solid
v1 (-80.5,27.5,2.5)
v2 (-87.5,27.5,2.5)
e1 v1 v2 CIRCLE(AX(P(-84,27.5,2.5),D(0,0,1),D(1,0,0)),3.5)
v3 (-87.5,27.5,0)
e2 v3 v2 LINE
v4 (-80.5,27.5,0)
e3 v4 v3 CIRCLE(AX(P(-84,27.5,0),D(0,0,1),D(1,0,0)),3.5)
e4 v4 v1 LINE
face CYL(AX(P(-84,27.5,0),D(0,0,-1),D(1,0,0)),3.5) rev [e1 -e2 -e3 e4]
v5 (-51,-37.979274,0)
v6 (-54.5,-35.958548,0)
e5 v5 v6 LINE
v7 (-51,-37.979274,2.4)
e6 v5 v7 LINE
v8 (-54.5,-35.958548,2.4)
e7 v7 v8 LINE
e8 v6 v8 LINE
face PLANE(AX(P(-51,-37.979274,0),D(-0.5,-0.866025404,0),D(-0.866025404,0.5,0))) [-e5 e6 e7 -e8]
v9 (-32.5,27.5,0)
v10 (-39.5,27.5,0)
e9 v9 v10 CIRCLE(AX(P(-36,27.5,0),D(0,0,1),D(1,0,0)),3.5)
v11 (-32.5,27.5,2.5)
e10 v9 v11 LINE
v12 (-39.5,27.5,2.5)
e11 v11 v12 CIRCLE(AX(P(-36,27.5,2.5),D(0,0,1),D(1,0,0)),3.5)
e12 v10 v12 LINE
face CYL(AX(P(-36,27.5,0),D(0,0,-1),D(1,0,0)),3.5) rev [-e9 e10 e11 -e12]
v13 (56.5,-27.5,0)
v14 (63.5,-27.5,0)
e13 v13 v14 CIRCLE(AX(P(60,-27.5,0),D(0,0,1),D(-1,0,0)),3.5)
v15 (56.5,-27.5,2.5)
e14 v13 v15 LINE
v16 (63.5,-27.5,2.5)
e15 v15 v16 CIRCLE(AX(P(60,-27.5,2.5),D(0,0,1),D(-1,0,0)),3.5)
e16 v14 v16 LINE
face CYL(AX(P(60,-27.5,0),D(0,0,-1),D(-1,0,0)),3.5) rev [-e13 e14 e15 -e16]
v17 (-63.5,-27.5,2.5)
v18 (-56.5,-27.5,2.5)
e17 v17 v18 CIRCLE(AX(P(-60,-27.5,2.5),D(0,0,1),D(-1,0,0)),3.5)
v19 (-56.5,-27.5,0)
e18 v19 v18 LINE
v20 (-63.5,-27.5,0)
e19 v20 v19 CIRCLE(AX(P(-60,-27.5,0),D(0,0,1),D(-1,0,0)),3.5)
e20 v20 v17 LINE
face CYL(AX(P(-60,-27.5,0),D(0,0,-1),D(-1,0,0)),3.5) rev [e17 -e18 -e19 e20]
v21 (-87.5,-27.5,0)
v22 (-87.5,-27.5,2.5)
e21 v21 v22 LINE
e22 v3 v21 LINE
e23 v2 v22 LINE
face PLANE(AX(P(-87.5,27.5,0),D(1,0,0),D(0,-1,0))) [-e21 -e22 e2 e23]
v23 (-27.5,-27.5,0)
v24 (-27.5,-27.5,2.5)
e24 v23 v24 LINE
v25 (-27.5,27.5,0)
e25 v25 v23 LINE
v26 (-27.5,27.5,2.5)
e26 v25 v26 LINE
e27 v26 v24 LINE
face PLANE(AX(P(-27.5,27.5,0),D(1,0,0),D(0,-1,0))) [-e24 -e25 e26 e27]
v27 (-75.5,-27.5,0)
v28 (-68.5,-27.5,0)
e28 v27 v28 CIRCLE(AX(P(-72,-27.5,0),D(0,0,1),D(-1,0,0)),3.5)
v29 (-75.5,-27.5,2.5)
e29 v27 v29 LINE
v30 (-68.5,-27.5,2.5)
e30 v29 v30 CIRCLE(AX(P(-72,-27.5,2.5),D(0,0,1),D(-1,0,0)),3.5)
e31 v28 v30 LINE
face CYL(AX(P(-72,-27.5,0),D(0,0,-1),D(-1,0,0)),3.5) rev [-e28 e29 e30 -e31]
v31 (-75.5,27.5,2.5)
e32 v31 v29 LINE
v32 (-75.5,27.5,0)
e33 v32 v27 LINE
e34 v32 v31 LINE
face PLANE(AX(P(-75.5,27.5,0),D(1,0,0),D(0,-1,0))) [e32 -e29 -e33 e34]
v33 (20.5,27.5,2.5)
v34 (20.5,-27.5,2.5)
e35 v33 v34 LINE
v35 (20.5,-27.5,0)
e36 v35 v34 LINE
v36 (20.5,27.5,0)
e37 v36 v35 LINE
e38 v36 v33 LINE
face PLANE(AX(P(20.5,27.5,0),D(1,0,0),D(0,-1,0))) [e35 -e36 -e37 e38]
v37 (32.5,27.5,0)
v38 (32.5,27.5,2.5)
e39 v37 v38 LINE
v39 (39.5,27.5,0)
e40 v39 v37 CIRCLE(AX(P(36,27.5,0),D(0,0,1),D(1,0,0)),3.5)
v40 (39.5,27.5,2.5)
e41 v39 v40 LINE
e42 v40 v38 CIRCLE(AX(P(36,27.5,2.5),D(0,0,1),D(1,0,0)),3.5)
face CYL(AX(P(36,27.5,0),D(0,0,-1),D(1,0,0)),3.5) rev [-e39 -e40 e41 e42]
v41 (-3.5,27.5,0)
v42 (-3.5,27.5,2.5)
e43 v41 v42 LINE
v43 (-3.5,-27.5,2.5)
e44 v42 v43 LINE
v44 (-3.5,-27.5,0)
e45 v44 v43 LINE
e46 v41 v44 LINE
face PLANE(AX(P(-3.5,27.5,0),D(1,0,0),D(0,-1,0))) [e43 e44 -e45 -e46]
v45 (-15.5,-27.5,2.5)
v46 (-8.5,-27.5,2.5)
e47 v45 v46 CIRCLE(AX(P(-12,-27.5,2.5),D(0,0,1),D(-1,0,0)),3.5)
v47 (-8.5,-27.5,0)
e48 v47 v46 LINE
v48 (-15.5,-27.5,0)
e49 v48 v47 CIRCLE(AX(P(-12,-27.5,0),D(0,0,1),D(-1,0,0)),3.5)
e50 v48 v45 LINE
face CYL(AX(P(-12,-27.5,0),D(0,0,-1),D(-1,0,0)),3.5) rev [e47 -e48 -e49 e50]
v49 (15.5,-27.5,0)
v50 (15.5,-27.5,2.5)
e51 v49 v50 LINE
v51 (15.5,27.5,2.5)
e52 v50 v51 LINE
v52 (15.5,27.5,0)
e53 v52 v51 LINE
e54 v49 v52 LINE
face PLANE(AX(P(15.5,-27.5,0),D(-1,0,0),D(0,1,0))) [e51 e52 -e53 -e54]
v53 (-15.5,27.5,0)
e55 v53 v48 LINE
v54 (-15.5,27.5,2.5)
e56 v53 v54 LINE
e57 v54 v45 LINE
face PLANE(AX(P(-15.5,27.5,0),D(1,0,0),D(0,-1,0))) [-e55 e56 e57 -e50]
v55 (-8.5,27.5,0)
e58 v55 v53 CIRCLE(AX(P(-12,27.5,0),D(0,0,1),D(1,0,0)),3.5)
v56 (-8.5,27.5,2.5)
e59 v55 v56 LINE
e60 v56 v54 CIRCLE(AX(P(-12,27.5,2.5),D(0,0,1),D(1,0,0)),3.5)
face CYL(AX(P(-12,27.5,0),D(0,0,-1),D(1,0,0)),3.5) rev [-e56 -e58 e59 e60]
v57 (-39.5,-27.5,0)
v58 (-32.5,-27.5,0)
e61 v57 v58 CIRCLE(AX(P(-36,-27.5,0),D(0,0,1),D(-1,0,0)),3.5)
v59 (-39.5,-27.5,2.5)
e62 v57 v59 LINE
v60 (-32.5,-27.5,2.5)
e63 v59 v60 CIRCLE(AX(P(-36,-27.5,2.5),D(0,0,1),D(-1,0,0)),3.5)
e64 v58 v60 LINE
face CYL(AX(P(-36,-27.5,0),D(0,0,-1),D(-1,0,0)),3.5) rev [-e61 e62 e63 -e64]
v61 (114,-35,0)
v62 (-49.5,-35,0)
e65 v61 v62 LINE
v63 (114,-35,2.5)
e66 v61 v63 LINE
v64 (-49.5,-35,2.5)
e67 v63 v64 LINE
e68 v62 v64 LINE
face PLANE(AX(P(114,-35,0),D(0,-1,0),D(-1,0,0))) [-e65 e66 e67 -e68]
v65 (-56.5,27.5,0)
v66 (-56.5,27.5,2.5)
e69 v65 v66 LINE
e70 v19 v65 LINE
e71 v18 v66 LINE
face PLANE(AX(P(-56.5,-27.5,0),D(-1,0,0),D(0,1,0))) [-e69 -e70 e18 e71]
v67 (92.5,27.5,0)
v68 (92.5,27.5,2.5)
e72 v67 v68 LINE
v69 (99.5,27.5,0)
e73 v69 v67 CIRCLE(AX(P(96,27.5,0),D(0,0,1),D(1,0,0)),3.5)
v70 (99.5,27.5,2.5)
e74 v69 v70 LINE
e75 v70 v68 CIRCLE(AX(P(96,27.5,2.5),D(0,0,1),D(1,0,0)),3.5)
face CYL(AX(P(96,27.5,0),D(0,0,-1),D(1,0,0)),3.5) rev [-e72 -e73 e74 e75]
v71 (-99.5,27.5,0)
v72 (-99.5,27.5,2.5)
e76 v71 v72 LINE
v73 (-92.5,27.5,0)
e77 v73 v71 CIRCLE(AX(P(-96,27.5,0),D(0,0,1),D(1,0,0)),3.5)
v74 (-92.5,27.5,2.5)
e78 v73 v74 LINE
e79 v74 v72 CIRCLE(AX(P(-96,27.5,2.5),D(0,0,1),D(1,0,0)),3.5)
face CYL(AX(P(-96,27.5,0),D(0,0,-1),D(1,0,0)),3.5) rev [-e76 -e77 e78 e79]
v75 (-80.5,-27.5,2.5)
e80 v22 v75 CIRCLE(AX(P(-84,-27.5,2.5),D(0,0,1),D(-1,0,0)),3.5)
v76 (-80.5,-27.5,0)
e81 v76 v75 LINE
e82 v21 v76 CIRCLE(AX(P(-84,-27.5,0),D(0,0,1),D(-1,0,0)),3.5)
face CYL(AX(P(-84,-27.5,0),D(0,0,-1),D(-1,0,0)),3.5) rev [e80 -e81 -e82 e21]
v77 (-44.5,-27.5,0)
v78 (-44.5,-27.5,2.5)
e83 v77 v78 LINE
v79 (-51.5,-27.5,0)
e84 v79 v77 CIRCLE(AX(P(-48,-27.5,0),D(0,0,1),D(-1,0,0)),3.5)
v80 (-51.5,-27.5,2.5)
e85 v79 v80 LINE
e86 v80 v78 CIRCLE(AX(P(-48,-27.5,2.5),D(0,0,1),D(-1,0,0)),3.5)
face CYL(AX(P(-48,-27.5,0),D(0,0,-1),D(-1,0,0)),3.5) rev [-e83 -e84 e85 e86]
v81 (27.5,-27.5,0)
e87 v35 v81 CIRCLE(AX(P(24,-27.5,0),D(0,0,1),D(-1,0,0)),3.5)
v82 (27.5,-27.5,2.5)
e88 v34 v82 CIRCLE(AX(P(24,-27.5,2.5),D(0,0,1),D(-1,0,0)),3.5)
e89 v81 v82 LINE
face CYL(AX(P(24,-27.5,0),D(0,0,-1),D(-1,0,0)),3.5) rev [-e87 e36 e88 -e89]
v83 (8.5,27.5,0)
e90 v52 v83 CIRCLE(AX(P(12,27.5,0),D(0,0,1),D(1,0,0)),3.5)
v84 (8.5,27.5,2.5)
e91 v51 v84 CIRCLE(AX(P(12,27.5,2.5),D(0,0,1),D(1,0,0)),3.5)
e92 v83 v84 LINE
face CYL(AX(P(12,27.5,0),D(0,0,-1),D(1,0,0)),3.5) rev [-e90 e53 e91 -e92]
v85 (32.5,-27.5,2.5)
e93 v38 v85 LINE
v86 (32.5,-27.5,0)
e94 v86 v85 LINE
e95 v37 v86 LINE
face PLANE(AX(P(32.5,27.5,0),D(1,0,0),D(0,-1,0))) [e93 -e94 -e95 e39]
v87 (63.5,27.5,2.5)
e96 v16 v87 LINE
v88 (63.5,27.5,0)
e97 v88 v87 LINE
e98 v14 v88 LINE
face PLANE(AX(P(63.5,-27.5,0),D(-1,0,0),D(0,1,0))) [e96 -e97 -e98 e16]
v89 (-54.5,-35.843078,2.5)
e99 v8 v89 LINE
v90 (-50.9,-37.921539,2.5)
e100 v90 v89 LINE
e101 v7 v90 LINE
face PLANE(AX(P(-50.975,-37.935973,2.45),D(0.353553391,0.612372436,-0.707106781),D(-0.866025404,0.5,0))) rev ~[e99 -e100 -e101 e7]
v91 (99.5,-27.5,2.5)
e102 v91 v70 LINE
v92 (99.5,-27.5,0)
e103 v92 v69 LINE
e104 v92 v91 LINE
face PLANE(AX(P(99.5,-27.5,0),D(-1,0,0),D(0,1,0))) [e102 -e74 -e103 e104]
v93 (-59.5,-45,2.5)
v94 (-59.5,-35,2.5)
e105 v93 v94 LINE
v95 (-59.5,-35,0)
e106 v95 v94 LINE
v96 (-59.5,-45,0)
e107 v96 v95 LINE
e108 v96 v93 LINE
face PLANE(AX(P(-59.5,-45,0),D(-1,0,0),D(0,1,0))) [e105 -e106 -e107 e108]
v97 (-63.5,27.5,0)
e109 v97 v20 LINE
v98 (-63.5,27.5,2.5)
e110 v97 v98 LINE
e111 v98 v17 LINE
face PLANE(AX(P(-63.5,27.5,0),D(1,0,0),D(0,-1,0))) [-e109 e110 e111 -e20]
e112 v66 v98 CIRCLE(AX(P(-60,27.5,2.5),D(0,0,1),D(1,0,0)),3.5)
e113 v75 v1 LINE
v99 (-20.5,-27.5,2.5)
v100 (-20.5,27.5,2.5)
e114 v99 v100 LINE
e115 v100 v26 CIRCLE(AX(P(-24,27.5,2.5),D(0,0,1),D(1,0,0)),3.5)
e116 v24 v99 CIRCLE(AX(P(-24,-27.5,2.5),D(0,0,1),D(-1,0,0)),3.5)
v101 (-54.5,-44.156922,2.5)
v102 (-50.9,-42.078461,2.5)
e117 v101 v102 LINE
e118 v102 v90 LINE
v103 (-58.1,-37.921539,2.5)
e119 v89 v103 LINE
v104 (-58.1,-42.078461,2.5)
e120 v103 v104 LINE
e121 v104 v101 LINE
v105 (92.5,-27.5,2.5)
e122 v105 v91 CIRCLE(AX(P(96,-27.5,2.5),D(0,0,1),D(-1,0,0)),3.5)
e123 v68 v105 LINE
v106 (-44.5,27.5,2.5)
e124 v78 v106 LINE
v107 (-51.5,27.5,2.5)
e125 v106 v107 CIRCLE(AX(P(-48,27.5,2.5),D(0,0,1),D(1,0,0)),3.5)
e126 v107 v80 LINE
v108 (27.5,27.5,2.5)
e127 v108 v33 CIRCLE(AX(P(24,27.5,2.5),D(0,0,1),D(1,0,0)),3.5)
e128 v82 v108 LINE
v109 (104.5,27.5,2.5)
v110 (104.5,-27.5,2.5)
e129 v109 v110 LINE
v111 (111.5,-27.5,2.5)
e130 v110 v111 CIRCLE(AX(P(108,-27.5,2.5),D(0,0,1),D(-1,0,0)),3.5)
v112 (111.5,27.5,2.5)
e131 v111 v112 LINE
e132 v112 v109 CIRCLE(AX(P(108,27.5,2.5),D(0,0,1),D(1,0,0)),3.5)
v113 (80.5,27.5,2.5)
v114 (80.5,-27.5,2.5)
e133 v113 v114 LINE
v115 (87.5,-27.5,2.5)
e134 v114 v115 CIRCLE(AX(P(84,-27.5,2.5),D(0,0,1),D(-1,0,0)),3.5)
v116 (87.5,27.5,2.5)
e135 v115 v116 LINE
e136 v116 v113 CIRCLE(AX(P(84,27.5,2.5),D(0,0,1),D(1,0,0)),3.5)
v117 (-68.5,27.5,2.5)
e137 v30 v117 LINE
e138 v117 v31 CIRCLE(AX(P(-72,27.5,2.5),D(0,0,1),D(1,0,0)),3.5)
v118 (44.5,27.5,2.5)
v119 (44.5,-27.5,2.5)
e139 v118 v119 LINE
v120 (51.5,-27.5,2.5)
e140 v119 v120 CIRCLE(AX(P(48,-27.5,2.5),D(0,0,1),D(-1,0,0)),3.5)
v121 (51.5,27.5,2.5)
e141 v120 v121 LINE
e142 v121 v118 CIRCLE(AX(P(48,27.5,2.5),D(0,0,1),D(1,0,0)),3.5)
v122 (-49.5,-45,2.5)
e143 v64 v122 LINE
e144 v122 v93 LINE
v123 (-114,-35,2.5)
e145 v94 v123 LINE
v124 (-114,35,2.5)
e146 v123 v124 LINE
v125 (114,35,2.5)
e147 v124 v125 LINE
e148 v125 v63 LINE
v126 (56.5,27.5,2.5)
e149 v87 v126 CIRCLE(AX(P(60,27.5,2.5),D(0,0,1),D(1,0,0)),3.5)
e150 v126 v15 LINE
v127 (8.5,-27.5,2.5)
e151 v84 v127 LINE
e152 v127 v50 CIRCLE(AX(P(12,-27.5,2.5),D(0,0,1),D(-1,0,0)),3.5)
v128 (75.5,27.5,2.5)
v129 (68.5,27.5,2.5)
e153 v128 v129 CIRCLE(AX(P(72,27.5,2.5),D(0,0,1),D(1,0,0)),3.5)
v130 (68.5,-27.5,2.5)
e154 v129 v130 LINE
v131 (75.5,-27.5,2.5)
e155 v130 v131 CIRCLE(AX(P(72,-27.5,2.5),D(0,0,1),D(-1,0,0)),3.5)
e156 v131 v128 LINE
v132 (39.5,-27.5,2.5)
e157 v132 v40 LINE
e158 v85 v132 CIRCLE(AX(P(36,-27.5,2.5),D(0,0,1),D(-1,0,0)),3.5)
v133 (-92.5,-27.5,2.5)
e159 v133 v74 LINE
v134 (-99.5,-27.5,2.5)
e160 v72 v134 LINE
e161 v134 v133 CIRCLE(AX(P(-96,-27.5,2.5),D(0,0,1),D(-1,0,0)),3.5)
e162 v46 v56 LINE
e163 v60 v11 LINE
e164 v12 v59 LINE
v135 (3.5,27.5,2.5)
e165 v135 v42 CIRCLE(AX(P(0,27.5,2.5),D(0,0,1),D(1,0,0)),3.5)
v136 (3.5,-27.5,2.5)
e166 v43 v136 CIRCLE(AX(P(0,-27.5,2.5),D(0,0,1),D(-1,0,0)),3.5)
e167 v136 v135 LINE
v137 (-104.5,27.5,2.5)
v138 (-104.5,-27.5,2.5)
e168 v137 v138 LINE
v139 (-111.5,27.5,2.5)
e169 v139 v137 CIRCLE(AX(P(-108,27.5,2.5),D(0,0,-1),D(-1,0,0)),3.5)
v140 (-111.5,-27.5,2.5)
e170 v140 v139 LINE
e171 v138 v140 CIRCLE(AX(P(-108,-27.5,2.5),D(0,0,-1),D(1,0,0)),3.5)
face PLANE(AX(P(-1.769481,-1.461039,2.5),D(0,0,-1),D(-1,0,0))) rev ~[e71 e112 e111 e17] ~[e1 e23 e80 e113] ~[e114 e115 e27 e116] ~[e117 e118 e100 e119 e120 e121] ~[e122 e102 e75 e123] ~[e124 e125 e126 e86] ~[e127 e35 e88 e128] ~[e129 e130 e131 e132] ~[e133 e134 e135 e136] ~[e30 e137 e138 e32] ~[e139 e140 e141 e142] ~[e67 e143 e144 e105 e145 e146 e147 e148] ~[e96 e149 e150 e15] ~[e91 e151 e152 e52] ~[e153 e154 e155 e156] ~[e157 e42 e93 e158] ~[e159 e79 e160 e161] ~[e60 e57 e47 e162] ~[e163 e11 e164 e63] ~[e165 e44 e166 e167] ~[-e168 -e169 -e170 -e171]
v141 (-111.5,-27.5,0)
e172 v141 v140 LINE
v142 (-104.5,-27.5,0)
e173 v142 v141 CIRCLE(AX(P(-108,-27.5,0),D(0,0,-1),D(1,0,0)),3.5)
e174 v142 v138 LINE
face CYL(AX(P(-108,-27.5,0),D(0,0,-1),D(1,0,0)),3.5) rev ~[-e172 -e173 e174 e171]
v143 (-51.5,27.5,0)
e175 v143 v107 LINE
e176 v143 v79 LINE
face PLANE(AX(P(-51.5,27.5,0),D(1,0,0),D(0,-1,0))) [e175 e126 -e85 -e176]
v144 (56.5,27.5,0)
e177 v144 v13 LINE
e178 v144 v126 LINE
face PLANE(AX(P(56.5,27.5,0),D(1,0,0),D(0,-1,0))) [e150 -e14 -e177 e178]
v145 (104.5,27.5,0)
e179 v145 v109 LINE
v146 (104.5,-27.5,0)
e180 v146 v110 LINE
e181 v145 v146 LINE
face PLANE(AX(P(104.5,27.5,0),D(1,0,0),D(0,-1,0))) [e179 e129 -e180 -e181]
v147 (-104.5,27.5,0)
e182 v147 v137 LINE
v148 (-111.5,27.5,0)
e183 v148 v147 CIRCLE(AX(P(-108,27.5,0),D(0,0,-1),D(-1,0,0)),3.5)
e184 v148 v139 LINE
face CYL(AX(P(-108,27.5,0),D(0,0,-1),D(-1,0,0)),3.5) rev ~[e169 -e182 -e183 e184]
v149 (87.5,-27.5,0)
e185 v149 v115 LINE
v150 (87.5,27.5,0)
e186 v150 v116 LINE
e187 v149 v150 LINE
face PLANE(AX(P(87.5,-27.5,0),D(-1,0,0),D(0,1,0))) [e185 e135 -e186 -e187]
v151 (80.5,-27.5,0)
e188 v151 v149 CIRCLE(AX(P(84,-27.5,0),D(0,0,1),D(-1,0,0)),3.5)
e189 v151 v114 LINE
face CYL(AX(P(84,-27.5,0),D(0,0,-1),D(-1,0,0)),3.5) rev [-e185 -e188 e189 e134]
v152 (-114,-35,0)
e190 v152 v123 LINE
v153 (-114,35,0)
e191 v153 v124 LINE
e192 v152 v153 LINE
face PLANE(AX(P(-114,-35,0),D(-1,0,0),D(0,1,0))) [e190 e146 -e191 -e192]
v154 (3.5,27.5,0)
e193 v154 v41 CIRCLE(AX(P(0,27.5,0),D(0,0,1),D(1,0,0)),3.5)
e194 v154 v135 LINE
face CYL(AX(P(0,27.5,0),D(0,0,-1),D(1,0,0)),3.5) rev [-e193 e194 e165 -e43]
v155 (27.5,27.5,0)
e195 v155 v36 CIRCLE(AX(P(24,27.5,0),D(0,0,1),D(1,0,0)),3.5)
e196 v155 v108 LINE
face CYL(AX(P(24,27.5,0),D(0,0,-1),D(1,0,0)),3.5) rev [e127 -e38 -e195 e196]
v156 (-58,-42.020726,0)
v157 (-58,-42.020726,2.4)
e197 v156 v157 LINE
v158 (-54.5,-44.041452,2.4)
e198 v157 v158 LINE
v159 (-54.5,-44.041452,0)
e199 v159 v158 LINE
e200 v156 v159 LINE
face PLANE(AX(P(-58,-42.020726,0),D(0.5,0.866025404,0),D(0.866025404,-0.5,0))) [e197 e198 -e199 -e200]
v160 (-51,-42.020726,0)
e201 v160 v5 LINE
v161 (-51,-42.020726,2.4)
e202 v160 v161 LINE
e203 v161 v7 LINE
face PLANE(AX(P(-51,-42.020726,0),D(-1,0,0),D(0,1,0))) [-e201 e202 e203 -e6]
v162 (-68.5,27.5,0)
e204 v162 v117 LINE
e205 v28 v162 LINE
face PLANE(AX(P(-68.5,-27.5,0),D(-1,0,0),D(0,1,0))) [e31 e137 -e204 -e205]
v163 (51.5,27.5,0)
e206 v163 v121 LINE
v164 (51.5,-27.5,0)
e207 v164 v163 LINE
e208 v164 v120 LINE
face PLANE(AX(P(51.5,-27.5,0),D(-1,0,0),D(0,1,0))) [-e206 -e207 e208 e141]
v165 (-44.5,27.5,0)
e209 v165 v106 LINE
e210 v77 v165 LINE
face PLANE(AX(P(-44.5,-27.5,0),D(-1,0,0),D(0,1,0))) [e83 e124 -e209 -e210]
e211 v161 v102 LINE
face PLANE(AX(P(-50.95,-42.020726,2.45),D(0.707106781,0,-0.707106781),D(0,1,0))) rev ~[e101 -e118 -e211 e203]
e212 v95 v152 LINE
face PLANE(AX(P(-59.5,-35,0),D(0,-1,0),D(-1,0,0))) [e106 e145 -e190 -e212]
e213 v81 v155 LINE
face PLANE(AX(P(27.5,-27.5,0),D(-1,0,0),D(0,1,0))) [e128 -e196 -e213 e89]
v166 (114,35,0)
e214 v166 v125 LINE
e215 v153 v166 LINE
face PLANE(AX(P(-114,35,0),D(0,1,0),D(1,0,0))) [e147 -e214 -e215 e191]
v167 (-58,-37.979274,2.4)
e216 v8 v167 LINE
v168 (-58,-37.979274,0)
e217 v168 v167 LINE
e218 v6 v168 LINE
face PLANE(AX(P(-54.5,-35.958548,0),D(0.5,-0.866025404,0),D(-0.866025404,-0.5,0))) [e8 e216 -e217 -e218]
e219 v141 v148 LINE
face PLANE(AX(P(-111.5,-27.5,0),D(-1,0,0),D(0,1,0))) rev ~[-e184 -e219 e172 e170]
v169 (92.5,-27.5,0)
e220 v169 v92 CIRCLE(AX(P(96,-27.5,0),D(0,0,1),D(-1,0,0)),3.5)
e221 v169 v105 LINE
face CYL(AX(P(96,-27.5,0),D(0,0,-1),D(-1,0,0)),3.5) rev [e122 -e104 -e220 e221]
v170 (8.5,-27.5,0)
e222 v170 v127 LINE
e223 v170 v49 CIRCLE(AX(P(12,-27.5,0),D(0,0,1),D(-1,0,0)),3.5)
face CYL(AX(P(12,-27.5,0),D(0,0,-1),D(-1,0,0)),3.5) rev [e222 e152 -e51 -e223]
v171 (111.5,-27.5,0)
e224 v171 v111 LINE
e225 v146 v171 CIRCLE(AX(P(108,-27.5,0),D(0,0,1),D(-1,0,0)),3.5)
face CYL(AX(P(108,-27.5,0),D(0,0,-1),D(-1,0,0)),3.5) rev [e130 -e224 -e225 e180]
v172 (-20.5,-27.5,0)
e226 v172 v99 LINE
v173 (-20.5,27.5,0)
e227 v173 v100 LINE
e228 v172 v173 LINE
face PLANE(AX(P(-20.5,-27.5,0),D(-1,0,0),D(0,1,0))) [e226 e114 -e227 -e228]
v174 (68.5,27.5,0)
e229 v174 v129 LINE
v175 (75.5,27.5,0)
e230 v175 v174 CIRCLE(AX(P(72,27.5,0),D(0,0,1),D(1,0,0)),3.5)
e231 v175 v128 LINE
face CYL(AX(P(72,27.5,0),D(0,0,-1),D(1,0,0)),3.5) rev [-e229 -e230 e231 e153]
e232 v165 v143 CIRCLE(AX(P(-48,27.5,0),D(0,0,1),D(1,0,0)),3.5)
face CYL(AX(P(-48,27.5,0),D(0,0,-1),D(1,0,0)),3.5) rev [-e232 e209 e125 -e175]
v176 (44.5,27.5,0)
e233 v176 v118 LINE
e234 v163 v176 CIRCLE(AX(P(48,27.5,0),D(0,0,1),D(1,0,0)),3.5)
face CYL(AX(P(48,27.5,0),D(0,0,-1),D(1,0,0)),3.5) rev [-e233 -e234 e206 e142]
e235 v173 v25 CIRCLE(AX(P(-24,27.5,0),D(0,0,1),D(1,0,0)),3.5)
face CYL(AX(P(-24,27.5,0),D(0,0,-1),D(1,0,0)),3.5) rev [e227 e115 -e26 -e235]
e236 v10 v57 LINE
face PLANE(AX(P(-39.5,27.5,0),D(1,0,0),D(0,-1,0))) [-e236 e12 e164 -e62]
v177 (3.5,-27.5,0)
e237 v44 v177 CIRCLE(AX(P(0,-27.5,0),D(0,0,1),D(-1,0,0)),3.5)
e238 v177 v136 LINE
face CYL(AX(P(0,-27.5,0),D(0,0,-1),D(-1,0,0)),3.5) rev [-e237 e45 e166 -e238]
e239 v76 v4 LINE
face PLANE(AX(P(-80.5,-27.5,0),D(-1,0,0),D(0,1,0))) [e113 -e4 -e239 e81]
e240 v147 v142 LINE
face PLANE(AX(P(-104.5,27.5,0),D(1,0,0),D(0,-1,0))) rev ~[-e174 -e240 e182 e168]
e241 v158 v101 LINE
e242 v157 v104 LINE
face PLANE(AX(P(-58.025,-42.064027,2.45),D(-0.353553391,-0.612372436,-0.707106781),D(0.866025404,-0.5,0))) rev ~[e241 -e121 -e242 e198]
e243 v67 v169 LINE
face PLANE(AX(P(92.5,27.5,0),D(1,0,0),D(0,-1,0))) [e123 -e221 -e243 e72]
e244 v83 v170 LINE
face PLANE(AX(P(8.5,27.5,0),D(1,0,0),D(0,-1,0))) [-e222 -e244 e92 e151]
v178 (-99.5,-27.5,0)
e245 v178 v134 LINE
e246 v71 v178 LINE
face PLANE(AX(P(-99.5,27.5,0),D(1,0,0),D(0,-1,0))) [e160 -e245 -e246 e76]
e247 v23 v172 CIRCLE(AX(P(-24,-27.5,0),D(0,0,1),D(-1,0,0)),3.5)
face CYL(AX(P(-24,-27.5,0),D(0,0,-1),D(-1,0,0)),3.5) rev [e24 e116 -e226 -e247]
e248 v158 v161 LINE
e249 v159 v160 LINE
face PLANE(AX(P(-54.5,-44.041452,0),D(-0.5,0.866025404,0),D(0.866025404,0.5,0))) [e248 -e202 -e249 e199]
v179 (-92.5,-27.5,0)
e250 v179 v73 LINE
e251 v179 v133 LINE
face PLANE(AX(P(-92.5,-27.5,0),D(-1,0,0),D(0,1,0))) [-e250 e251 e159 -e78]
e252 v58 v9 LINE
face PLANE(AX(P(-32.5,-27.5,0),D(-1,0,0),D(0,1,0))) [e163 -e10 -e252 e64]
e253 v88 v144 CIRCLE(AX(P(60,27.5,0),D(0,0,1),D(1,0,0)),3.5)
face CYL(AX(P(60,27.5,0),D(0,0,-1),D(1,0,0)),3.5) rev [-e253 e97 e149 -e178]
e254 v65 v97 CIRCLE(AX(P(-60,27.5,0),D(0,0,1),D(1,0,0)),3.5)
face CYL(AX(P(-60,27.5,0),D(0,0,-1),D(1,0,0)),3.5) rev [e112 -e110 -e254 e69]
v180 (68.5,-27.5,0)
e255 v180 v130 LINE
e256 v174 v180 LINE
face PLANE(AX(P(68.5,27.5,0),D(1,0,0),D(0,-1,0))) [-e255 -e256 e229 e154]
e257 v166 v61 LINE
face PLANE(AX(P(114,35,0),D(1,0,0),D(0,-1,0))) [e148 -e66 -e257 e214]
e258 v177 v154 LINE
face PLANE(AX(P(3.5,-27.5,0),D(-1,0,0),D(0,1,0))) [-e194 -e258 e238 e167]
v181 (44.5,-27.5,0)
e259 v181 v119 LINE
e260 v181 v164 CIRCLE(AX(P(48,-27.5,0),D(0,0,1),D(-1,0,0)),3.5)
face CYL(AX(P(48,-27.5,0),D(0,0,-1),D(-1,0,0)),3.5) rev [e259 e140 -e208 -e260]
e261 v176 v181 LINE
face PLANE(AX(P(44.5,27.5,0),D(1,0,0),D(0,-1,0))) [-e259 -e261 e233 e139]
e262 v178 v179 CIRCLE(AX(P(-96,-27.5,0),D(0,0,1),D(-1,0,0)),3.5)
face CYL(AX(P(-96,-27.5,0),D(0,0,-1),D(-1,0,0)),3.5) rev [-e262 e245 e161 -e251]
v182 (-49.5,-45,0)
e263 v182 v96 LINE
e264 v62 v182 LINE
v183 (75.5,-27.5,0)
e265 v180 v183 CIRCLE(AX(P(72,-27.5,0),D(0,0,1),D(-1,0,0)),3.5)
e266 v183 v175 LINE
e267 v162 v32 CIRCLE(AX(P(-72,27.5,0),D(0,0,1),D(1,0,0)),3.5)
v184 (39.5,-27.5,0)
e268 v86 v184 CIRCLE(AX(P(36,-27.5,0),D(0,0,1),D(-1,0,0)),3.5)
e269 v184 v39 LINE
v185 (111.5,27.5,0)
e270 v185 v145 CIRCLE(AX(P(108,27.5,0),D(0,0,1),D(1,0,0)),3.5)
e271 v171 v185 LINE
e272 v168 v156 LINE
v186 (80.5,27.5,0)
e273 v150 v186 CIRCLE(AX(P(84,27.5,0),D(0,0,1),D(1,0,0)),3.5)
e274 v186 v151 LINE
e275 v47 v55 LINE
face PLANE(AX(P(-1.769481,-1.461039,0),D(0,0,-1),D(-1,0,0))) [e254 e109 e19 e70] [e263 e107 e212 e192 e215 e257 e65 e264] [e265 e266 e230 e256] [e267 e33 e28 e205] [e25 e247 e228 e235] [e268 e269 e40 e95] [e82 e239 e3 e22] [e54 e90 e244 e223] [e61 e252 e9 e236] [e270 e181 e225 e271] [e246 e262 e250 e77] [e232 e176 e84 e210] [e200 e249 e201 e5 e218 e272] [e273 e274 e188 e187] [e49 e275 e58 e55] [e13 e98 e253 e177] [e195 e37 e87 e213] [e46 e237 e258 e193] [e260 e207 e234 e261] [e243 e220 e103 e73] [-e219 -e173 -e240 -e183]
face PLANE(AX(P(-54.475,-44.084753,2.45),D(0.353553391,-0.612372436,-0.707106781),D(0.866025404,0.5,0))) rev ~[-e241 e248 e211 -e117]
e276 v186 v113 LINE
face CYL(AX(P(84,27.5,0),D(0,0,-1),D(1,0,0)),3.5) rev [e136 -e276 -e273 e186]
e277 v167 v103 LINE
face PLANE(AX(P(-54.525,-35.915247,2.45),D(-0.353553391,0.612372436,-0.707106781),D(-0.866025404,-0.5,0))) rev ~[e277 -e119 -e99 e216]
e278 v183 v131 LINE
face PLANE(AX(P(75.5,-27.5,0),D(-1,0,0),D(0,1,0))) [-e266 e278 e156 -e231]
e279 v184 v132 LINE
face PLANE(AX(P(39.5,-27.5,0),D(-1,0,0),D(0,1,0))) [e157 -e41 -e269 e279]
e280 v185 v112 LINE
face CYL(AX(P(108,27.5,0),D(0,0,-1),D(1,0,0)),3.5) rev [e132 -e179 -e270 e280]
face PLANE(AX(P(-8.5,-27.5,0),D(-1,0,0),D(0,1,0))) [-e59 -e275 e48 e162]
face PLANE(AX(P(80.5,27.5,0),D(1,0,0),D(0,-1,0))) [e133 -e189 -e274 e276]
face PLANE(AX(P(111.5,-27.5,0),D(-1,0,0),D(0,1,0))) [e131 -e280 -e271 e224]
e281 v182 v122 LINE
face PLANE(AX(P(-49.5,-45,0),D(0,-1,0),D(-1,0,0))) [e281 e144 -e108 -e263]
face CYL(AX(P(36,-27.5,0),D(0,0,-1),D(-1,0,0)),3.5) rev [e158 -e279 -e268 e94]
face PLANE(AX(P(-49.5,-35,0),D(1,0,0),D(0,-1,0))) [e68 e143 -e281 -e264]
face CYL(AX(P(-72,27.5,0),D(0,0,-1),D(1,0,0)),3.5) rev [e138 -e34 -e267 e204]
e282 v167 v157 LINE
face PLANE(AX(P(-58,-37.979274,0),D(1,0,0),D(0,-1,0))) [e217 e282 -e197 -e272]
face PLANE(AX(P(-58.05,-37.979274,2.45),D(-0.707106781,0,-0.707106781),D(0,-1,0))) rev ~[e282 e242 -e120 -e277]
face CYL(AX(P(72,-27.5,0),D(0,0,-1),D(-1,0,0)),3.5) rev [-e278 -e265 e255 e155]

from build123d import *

# Parameters (mm, degrees)
BOSS_EXTRU_1_DEPTH = 2.5
CHANFREIN1_SIZE    = 0.1


with BuildPart() as part:
    # Esquisse1 → Boss.-Extru.1 (new body)
    with BuildSketch(Plane.XY):
        Polygon((-114, 35), (114, 35), (114, -35), (-49.5, -35), (-49.5, -45), (-59.5, -45), (-59.5, -35), (-114, -35), align=None)
        with BuildLine():
            Line((-111.5, -27.5), (-111.5, 27.5))
            ThreePointArc((-111.5, 27.5), (-108, 31), (-104.5, 27.5))
            Line((-104.5, 27.5), (-104.5, -27.5))
            ThreePointArc((-104.5, -27.5), (-108, -31), (-111.5, -27.5))
        make_face(mode=Mode.SUBTRACT)
        with BuildLine():
            Line((-92.5, -27.5), (-92.5, 27.5))
            ThreePointArc((-92.5, 27.5), (-96, 31), (-99.5, 27.5))
            Line((-99.5, 27.5), (-99.5, -27.5))
            ThreePointArc((-99.5, -27.5), (-96, -31), (-92.5, -27.5))
        make_face(mode=Mode.SUBTRACT)
        with BuildLine():
            Line((-80.5, -27.5), (-80.5, 27.5))
            ThreePointArc((-80.5, 27.5), (-84, 31), (-87.5, 27.5))
            Line((-87.5, 27.5), (-87.5, -27.5))
            ThreePointArc((-87.5, -27.5), (-84, -31), (-80.5, -27.5))
        make_face(mode=Mode.SUBTRACT)
        with BuildLine():
            Line((-68.5, -27.5), (-68.5, 27.5))
            ThreePointArc((-68.5, 27.5), (-72, 31), (-75.5, 27.5))
            Line((-75.5, 27.5), (-75.5, -27.5))
            ThreePointArc((-75.5, -27.5), (-72, -31), (-68.5, -27.5))
        make_face(mode=Mode.SUBTRACT)
        with BuildLine():
            Line((-56.5, -27.5), (-56.5, 27.5))
            ThreePointArc((-56.5, 27.5), (-60, 31), (-63.5, 27.5))
            Line((-63.5, 27.5), (-63.5, -27.5))
            ThreePointArc((-63.5, -27.5), (-60, -31), (-56.5, -27.5))
        make_face(mode=Mode.SUBTRACT)
        with BuildLine():
            Line((-44.5, -27.5), (-44.5, 27.5))
            ThreePointArc((-44.5, 27.5), (-48, 31), (-51.5, 27.5))
            Line((-51.5, 27.5), (-51.5, -27.5))
            ThreePointArc((-51.5, -27.5), (-48, -31), (-44.5, -27.5))
        make_face(mode=Mode.SUBTRACT)
        with BuildLine():
            Line((-32.5, -27.5), (-32.5, 27.5))
            ThreePointArc((-32.5, 27.5), (-36, 31), (-39.5, 27.5))
            Line((-39.5, 27.5), (-39.5, -27.5))
            ThreePointArc((-39.5, -27.5), (-36, -31), (-32.5, -27.5))
        make_face(mode=Mode.SUBTRACT)
        with BuildLine():
            Line((-20.5, -27.5), (-20.5, 27.5))
            ThreePointArc((-20.5, 27.5), (-24, 31), (-27.5, 27.5))
            Line((-27.5, 27.5), (-27.5, -27.5))
            ThreePointArc((-27.5, -27.5), (-24, -31), (-20.5, -27.5))
        make_face(mode=Mode.SUBTRACT)
        with BuildLine():
            Line((-8.5, -27.5), (-8.5, 27.5))
            ThreePointArc((-8.5, 27.5), (-12, 31), (-15.5, 27.5))
            Line((-15.5, 27.5), (-15.5, -27.5))
            ThreePointArc((-15.5, -27.5), (-12, -31), (-8.5, -27.5))
        make_face(mode=Mode.SUBTRACT)
        with BuildLine():
            Line((3.5, -27.5), (3.5, 27.5))
            ThreePointArc((3.5, 27.5), (0, 31), (-3.5, 27.5))
            Line((-3.5, 27.5), (-3.5, -27.5))
            ThreePointArc((-3.5, -27.5), (0, -31), (3.5, -27.5))
        make_face(mode=Mode.SUBTRACT)
        with BuildLine():
            Line((15.5, -27.5), (15.5, 27.5))
            ThreePointArc((15.5, 27.5), (12, 31), (8.5, 27.5))
            Line((8.5, 27.5), (8.5, -27.5))
            ThreePointArc((8.5, -27.5), (12, -31), (15.5, -27.5))
        make_face(mode=Mode.SUBTRACT)
        with BuildLine():
            Line((27.5, -27.5), (27.5, 27.5))
            ThreePointArc((27.5, 27.5), (24, 31), (20.5, 27.5))
            Line((20.5, 27.5), (20.5, -27.5))
            ThreePointArc((20.5, -27.5), (24, -31), (27.5, -27.5))
        make_face(mode=Mode.SUBTRACT)
        with BuildLine():
            Line((39.5, -27.5), (39.5, 27.5))
            ThreePointArc((39.5, 27.5), (36, 31), (32.5, 27.5))
            Line((32.5, 27.5), (32.5, -27.5))
            ThreePointArc((32.5, -27.5), (36, -31), (39.5, -27.5))
        make_face(mode=Mode.SUBTRACT)
        with BuildLine():
            Line((51.5, -27.5), (51.5, 27.5))
            ThreePointArc((51.5, 27.5), (48, 31), (44.5, 27.5))
            Line((44.5, 27.5), (44.5, -27.5))
            ThreePointArc((44.5, -27.5), (48, -31), (51.5, -27.5))
        make_face(mode=Mode.SUBTRACT)
        with BuildLine():
            Line((63.5, -27.5), (63.5, 27.5))
            ThreePointArc((63.5, 27.5), (60, 31), (56.5, 27.5))
            Line((56.5, 27.5), (56.5, -27.5))
            ThreePointArc((56.5, -27.5), (60, -31), (63.5, -27.5))
        make_face(mode=Mode.SUBTRACT)
        with BuildLine():
            Line((75.5, -27.5), (75.5, 27.5))
            ThreePointArc((75.5, 27.5), (72, 31), (68.5, 27.5))
            Line((68.5, 27.5), (68.5, -27.5))
            ThreePointArc((68.5, -27.5), (72, -31), (75.5, -27.5))
        make_face(mode=Mode.SUBTRACT)
        with BuildLine():
            Line((87.5, -27.5), (87.5, 27.5))
            ThreePointArc((87.5, 27.5), (84, 31), (80.5, 27.5))
            Line((80.5, 27.5), (80.5, -27.5))
            ThreePointArc((80.5, -27.5), (84, -31), (87.5, -27.5))
        make_face(mode=Mode.SUBTRACT)
        with BuildLine():
            Line((99.5, -27.5), (99.5, 27.5))
            ThreePointArc((99.5, 27.5), (96, 31), (92.5, 27.5))
            Line((92.5, 27.5), (92.5, -27.5))
            ThreePointArc((92.5, -27.5), (96, -31), (99.5, -27.5))
        make_face(mode=Mode.SUBTRACT)
        with BuildLine():
            Line((111.5, -27.5), (111.5, 27.5))
            ThreePointArc((111.5, 27.5), (108, 31), (104.5, 27.5))
            Line((104.5, 27.5), (104.5, -27.5))
            ThreePointArc((104.5, -27.5), (108, -31), (111.5, -27.5))
        make_face(mode=Mode.SUBTRACT)
        Polygon((-51, -42.020725942), (-51, -37.979274058), (-54.5, -35.958548116), (-58, -37.979274058), (-58, -42.020725942), (-54.5, -44.041451884), align=None, mode=Mode.SUBTRACT)
    extrude(amount=BOSS_EXTRU_1_DEPTH)

    # Chanfrein1
    chanfrein1_edges = [part.edges().sort_by_distance(p)[0] for p in [
        (-52.75, -43.031088913, 2.5),
        (-51, -40, 2.5),
        (-52.75, -36.968911087, 2.5),
        (-56.25, -36.968911087, 2.5),
        (-58, -40, 2.5),
        (-56.25, -43.031088913, 2.5),
    ]]
    chamfer(chanfrein1_edges, length=CHANFREIN1_SIZE)


solid = part.part
